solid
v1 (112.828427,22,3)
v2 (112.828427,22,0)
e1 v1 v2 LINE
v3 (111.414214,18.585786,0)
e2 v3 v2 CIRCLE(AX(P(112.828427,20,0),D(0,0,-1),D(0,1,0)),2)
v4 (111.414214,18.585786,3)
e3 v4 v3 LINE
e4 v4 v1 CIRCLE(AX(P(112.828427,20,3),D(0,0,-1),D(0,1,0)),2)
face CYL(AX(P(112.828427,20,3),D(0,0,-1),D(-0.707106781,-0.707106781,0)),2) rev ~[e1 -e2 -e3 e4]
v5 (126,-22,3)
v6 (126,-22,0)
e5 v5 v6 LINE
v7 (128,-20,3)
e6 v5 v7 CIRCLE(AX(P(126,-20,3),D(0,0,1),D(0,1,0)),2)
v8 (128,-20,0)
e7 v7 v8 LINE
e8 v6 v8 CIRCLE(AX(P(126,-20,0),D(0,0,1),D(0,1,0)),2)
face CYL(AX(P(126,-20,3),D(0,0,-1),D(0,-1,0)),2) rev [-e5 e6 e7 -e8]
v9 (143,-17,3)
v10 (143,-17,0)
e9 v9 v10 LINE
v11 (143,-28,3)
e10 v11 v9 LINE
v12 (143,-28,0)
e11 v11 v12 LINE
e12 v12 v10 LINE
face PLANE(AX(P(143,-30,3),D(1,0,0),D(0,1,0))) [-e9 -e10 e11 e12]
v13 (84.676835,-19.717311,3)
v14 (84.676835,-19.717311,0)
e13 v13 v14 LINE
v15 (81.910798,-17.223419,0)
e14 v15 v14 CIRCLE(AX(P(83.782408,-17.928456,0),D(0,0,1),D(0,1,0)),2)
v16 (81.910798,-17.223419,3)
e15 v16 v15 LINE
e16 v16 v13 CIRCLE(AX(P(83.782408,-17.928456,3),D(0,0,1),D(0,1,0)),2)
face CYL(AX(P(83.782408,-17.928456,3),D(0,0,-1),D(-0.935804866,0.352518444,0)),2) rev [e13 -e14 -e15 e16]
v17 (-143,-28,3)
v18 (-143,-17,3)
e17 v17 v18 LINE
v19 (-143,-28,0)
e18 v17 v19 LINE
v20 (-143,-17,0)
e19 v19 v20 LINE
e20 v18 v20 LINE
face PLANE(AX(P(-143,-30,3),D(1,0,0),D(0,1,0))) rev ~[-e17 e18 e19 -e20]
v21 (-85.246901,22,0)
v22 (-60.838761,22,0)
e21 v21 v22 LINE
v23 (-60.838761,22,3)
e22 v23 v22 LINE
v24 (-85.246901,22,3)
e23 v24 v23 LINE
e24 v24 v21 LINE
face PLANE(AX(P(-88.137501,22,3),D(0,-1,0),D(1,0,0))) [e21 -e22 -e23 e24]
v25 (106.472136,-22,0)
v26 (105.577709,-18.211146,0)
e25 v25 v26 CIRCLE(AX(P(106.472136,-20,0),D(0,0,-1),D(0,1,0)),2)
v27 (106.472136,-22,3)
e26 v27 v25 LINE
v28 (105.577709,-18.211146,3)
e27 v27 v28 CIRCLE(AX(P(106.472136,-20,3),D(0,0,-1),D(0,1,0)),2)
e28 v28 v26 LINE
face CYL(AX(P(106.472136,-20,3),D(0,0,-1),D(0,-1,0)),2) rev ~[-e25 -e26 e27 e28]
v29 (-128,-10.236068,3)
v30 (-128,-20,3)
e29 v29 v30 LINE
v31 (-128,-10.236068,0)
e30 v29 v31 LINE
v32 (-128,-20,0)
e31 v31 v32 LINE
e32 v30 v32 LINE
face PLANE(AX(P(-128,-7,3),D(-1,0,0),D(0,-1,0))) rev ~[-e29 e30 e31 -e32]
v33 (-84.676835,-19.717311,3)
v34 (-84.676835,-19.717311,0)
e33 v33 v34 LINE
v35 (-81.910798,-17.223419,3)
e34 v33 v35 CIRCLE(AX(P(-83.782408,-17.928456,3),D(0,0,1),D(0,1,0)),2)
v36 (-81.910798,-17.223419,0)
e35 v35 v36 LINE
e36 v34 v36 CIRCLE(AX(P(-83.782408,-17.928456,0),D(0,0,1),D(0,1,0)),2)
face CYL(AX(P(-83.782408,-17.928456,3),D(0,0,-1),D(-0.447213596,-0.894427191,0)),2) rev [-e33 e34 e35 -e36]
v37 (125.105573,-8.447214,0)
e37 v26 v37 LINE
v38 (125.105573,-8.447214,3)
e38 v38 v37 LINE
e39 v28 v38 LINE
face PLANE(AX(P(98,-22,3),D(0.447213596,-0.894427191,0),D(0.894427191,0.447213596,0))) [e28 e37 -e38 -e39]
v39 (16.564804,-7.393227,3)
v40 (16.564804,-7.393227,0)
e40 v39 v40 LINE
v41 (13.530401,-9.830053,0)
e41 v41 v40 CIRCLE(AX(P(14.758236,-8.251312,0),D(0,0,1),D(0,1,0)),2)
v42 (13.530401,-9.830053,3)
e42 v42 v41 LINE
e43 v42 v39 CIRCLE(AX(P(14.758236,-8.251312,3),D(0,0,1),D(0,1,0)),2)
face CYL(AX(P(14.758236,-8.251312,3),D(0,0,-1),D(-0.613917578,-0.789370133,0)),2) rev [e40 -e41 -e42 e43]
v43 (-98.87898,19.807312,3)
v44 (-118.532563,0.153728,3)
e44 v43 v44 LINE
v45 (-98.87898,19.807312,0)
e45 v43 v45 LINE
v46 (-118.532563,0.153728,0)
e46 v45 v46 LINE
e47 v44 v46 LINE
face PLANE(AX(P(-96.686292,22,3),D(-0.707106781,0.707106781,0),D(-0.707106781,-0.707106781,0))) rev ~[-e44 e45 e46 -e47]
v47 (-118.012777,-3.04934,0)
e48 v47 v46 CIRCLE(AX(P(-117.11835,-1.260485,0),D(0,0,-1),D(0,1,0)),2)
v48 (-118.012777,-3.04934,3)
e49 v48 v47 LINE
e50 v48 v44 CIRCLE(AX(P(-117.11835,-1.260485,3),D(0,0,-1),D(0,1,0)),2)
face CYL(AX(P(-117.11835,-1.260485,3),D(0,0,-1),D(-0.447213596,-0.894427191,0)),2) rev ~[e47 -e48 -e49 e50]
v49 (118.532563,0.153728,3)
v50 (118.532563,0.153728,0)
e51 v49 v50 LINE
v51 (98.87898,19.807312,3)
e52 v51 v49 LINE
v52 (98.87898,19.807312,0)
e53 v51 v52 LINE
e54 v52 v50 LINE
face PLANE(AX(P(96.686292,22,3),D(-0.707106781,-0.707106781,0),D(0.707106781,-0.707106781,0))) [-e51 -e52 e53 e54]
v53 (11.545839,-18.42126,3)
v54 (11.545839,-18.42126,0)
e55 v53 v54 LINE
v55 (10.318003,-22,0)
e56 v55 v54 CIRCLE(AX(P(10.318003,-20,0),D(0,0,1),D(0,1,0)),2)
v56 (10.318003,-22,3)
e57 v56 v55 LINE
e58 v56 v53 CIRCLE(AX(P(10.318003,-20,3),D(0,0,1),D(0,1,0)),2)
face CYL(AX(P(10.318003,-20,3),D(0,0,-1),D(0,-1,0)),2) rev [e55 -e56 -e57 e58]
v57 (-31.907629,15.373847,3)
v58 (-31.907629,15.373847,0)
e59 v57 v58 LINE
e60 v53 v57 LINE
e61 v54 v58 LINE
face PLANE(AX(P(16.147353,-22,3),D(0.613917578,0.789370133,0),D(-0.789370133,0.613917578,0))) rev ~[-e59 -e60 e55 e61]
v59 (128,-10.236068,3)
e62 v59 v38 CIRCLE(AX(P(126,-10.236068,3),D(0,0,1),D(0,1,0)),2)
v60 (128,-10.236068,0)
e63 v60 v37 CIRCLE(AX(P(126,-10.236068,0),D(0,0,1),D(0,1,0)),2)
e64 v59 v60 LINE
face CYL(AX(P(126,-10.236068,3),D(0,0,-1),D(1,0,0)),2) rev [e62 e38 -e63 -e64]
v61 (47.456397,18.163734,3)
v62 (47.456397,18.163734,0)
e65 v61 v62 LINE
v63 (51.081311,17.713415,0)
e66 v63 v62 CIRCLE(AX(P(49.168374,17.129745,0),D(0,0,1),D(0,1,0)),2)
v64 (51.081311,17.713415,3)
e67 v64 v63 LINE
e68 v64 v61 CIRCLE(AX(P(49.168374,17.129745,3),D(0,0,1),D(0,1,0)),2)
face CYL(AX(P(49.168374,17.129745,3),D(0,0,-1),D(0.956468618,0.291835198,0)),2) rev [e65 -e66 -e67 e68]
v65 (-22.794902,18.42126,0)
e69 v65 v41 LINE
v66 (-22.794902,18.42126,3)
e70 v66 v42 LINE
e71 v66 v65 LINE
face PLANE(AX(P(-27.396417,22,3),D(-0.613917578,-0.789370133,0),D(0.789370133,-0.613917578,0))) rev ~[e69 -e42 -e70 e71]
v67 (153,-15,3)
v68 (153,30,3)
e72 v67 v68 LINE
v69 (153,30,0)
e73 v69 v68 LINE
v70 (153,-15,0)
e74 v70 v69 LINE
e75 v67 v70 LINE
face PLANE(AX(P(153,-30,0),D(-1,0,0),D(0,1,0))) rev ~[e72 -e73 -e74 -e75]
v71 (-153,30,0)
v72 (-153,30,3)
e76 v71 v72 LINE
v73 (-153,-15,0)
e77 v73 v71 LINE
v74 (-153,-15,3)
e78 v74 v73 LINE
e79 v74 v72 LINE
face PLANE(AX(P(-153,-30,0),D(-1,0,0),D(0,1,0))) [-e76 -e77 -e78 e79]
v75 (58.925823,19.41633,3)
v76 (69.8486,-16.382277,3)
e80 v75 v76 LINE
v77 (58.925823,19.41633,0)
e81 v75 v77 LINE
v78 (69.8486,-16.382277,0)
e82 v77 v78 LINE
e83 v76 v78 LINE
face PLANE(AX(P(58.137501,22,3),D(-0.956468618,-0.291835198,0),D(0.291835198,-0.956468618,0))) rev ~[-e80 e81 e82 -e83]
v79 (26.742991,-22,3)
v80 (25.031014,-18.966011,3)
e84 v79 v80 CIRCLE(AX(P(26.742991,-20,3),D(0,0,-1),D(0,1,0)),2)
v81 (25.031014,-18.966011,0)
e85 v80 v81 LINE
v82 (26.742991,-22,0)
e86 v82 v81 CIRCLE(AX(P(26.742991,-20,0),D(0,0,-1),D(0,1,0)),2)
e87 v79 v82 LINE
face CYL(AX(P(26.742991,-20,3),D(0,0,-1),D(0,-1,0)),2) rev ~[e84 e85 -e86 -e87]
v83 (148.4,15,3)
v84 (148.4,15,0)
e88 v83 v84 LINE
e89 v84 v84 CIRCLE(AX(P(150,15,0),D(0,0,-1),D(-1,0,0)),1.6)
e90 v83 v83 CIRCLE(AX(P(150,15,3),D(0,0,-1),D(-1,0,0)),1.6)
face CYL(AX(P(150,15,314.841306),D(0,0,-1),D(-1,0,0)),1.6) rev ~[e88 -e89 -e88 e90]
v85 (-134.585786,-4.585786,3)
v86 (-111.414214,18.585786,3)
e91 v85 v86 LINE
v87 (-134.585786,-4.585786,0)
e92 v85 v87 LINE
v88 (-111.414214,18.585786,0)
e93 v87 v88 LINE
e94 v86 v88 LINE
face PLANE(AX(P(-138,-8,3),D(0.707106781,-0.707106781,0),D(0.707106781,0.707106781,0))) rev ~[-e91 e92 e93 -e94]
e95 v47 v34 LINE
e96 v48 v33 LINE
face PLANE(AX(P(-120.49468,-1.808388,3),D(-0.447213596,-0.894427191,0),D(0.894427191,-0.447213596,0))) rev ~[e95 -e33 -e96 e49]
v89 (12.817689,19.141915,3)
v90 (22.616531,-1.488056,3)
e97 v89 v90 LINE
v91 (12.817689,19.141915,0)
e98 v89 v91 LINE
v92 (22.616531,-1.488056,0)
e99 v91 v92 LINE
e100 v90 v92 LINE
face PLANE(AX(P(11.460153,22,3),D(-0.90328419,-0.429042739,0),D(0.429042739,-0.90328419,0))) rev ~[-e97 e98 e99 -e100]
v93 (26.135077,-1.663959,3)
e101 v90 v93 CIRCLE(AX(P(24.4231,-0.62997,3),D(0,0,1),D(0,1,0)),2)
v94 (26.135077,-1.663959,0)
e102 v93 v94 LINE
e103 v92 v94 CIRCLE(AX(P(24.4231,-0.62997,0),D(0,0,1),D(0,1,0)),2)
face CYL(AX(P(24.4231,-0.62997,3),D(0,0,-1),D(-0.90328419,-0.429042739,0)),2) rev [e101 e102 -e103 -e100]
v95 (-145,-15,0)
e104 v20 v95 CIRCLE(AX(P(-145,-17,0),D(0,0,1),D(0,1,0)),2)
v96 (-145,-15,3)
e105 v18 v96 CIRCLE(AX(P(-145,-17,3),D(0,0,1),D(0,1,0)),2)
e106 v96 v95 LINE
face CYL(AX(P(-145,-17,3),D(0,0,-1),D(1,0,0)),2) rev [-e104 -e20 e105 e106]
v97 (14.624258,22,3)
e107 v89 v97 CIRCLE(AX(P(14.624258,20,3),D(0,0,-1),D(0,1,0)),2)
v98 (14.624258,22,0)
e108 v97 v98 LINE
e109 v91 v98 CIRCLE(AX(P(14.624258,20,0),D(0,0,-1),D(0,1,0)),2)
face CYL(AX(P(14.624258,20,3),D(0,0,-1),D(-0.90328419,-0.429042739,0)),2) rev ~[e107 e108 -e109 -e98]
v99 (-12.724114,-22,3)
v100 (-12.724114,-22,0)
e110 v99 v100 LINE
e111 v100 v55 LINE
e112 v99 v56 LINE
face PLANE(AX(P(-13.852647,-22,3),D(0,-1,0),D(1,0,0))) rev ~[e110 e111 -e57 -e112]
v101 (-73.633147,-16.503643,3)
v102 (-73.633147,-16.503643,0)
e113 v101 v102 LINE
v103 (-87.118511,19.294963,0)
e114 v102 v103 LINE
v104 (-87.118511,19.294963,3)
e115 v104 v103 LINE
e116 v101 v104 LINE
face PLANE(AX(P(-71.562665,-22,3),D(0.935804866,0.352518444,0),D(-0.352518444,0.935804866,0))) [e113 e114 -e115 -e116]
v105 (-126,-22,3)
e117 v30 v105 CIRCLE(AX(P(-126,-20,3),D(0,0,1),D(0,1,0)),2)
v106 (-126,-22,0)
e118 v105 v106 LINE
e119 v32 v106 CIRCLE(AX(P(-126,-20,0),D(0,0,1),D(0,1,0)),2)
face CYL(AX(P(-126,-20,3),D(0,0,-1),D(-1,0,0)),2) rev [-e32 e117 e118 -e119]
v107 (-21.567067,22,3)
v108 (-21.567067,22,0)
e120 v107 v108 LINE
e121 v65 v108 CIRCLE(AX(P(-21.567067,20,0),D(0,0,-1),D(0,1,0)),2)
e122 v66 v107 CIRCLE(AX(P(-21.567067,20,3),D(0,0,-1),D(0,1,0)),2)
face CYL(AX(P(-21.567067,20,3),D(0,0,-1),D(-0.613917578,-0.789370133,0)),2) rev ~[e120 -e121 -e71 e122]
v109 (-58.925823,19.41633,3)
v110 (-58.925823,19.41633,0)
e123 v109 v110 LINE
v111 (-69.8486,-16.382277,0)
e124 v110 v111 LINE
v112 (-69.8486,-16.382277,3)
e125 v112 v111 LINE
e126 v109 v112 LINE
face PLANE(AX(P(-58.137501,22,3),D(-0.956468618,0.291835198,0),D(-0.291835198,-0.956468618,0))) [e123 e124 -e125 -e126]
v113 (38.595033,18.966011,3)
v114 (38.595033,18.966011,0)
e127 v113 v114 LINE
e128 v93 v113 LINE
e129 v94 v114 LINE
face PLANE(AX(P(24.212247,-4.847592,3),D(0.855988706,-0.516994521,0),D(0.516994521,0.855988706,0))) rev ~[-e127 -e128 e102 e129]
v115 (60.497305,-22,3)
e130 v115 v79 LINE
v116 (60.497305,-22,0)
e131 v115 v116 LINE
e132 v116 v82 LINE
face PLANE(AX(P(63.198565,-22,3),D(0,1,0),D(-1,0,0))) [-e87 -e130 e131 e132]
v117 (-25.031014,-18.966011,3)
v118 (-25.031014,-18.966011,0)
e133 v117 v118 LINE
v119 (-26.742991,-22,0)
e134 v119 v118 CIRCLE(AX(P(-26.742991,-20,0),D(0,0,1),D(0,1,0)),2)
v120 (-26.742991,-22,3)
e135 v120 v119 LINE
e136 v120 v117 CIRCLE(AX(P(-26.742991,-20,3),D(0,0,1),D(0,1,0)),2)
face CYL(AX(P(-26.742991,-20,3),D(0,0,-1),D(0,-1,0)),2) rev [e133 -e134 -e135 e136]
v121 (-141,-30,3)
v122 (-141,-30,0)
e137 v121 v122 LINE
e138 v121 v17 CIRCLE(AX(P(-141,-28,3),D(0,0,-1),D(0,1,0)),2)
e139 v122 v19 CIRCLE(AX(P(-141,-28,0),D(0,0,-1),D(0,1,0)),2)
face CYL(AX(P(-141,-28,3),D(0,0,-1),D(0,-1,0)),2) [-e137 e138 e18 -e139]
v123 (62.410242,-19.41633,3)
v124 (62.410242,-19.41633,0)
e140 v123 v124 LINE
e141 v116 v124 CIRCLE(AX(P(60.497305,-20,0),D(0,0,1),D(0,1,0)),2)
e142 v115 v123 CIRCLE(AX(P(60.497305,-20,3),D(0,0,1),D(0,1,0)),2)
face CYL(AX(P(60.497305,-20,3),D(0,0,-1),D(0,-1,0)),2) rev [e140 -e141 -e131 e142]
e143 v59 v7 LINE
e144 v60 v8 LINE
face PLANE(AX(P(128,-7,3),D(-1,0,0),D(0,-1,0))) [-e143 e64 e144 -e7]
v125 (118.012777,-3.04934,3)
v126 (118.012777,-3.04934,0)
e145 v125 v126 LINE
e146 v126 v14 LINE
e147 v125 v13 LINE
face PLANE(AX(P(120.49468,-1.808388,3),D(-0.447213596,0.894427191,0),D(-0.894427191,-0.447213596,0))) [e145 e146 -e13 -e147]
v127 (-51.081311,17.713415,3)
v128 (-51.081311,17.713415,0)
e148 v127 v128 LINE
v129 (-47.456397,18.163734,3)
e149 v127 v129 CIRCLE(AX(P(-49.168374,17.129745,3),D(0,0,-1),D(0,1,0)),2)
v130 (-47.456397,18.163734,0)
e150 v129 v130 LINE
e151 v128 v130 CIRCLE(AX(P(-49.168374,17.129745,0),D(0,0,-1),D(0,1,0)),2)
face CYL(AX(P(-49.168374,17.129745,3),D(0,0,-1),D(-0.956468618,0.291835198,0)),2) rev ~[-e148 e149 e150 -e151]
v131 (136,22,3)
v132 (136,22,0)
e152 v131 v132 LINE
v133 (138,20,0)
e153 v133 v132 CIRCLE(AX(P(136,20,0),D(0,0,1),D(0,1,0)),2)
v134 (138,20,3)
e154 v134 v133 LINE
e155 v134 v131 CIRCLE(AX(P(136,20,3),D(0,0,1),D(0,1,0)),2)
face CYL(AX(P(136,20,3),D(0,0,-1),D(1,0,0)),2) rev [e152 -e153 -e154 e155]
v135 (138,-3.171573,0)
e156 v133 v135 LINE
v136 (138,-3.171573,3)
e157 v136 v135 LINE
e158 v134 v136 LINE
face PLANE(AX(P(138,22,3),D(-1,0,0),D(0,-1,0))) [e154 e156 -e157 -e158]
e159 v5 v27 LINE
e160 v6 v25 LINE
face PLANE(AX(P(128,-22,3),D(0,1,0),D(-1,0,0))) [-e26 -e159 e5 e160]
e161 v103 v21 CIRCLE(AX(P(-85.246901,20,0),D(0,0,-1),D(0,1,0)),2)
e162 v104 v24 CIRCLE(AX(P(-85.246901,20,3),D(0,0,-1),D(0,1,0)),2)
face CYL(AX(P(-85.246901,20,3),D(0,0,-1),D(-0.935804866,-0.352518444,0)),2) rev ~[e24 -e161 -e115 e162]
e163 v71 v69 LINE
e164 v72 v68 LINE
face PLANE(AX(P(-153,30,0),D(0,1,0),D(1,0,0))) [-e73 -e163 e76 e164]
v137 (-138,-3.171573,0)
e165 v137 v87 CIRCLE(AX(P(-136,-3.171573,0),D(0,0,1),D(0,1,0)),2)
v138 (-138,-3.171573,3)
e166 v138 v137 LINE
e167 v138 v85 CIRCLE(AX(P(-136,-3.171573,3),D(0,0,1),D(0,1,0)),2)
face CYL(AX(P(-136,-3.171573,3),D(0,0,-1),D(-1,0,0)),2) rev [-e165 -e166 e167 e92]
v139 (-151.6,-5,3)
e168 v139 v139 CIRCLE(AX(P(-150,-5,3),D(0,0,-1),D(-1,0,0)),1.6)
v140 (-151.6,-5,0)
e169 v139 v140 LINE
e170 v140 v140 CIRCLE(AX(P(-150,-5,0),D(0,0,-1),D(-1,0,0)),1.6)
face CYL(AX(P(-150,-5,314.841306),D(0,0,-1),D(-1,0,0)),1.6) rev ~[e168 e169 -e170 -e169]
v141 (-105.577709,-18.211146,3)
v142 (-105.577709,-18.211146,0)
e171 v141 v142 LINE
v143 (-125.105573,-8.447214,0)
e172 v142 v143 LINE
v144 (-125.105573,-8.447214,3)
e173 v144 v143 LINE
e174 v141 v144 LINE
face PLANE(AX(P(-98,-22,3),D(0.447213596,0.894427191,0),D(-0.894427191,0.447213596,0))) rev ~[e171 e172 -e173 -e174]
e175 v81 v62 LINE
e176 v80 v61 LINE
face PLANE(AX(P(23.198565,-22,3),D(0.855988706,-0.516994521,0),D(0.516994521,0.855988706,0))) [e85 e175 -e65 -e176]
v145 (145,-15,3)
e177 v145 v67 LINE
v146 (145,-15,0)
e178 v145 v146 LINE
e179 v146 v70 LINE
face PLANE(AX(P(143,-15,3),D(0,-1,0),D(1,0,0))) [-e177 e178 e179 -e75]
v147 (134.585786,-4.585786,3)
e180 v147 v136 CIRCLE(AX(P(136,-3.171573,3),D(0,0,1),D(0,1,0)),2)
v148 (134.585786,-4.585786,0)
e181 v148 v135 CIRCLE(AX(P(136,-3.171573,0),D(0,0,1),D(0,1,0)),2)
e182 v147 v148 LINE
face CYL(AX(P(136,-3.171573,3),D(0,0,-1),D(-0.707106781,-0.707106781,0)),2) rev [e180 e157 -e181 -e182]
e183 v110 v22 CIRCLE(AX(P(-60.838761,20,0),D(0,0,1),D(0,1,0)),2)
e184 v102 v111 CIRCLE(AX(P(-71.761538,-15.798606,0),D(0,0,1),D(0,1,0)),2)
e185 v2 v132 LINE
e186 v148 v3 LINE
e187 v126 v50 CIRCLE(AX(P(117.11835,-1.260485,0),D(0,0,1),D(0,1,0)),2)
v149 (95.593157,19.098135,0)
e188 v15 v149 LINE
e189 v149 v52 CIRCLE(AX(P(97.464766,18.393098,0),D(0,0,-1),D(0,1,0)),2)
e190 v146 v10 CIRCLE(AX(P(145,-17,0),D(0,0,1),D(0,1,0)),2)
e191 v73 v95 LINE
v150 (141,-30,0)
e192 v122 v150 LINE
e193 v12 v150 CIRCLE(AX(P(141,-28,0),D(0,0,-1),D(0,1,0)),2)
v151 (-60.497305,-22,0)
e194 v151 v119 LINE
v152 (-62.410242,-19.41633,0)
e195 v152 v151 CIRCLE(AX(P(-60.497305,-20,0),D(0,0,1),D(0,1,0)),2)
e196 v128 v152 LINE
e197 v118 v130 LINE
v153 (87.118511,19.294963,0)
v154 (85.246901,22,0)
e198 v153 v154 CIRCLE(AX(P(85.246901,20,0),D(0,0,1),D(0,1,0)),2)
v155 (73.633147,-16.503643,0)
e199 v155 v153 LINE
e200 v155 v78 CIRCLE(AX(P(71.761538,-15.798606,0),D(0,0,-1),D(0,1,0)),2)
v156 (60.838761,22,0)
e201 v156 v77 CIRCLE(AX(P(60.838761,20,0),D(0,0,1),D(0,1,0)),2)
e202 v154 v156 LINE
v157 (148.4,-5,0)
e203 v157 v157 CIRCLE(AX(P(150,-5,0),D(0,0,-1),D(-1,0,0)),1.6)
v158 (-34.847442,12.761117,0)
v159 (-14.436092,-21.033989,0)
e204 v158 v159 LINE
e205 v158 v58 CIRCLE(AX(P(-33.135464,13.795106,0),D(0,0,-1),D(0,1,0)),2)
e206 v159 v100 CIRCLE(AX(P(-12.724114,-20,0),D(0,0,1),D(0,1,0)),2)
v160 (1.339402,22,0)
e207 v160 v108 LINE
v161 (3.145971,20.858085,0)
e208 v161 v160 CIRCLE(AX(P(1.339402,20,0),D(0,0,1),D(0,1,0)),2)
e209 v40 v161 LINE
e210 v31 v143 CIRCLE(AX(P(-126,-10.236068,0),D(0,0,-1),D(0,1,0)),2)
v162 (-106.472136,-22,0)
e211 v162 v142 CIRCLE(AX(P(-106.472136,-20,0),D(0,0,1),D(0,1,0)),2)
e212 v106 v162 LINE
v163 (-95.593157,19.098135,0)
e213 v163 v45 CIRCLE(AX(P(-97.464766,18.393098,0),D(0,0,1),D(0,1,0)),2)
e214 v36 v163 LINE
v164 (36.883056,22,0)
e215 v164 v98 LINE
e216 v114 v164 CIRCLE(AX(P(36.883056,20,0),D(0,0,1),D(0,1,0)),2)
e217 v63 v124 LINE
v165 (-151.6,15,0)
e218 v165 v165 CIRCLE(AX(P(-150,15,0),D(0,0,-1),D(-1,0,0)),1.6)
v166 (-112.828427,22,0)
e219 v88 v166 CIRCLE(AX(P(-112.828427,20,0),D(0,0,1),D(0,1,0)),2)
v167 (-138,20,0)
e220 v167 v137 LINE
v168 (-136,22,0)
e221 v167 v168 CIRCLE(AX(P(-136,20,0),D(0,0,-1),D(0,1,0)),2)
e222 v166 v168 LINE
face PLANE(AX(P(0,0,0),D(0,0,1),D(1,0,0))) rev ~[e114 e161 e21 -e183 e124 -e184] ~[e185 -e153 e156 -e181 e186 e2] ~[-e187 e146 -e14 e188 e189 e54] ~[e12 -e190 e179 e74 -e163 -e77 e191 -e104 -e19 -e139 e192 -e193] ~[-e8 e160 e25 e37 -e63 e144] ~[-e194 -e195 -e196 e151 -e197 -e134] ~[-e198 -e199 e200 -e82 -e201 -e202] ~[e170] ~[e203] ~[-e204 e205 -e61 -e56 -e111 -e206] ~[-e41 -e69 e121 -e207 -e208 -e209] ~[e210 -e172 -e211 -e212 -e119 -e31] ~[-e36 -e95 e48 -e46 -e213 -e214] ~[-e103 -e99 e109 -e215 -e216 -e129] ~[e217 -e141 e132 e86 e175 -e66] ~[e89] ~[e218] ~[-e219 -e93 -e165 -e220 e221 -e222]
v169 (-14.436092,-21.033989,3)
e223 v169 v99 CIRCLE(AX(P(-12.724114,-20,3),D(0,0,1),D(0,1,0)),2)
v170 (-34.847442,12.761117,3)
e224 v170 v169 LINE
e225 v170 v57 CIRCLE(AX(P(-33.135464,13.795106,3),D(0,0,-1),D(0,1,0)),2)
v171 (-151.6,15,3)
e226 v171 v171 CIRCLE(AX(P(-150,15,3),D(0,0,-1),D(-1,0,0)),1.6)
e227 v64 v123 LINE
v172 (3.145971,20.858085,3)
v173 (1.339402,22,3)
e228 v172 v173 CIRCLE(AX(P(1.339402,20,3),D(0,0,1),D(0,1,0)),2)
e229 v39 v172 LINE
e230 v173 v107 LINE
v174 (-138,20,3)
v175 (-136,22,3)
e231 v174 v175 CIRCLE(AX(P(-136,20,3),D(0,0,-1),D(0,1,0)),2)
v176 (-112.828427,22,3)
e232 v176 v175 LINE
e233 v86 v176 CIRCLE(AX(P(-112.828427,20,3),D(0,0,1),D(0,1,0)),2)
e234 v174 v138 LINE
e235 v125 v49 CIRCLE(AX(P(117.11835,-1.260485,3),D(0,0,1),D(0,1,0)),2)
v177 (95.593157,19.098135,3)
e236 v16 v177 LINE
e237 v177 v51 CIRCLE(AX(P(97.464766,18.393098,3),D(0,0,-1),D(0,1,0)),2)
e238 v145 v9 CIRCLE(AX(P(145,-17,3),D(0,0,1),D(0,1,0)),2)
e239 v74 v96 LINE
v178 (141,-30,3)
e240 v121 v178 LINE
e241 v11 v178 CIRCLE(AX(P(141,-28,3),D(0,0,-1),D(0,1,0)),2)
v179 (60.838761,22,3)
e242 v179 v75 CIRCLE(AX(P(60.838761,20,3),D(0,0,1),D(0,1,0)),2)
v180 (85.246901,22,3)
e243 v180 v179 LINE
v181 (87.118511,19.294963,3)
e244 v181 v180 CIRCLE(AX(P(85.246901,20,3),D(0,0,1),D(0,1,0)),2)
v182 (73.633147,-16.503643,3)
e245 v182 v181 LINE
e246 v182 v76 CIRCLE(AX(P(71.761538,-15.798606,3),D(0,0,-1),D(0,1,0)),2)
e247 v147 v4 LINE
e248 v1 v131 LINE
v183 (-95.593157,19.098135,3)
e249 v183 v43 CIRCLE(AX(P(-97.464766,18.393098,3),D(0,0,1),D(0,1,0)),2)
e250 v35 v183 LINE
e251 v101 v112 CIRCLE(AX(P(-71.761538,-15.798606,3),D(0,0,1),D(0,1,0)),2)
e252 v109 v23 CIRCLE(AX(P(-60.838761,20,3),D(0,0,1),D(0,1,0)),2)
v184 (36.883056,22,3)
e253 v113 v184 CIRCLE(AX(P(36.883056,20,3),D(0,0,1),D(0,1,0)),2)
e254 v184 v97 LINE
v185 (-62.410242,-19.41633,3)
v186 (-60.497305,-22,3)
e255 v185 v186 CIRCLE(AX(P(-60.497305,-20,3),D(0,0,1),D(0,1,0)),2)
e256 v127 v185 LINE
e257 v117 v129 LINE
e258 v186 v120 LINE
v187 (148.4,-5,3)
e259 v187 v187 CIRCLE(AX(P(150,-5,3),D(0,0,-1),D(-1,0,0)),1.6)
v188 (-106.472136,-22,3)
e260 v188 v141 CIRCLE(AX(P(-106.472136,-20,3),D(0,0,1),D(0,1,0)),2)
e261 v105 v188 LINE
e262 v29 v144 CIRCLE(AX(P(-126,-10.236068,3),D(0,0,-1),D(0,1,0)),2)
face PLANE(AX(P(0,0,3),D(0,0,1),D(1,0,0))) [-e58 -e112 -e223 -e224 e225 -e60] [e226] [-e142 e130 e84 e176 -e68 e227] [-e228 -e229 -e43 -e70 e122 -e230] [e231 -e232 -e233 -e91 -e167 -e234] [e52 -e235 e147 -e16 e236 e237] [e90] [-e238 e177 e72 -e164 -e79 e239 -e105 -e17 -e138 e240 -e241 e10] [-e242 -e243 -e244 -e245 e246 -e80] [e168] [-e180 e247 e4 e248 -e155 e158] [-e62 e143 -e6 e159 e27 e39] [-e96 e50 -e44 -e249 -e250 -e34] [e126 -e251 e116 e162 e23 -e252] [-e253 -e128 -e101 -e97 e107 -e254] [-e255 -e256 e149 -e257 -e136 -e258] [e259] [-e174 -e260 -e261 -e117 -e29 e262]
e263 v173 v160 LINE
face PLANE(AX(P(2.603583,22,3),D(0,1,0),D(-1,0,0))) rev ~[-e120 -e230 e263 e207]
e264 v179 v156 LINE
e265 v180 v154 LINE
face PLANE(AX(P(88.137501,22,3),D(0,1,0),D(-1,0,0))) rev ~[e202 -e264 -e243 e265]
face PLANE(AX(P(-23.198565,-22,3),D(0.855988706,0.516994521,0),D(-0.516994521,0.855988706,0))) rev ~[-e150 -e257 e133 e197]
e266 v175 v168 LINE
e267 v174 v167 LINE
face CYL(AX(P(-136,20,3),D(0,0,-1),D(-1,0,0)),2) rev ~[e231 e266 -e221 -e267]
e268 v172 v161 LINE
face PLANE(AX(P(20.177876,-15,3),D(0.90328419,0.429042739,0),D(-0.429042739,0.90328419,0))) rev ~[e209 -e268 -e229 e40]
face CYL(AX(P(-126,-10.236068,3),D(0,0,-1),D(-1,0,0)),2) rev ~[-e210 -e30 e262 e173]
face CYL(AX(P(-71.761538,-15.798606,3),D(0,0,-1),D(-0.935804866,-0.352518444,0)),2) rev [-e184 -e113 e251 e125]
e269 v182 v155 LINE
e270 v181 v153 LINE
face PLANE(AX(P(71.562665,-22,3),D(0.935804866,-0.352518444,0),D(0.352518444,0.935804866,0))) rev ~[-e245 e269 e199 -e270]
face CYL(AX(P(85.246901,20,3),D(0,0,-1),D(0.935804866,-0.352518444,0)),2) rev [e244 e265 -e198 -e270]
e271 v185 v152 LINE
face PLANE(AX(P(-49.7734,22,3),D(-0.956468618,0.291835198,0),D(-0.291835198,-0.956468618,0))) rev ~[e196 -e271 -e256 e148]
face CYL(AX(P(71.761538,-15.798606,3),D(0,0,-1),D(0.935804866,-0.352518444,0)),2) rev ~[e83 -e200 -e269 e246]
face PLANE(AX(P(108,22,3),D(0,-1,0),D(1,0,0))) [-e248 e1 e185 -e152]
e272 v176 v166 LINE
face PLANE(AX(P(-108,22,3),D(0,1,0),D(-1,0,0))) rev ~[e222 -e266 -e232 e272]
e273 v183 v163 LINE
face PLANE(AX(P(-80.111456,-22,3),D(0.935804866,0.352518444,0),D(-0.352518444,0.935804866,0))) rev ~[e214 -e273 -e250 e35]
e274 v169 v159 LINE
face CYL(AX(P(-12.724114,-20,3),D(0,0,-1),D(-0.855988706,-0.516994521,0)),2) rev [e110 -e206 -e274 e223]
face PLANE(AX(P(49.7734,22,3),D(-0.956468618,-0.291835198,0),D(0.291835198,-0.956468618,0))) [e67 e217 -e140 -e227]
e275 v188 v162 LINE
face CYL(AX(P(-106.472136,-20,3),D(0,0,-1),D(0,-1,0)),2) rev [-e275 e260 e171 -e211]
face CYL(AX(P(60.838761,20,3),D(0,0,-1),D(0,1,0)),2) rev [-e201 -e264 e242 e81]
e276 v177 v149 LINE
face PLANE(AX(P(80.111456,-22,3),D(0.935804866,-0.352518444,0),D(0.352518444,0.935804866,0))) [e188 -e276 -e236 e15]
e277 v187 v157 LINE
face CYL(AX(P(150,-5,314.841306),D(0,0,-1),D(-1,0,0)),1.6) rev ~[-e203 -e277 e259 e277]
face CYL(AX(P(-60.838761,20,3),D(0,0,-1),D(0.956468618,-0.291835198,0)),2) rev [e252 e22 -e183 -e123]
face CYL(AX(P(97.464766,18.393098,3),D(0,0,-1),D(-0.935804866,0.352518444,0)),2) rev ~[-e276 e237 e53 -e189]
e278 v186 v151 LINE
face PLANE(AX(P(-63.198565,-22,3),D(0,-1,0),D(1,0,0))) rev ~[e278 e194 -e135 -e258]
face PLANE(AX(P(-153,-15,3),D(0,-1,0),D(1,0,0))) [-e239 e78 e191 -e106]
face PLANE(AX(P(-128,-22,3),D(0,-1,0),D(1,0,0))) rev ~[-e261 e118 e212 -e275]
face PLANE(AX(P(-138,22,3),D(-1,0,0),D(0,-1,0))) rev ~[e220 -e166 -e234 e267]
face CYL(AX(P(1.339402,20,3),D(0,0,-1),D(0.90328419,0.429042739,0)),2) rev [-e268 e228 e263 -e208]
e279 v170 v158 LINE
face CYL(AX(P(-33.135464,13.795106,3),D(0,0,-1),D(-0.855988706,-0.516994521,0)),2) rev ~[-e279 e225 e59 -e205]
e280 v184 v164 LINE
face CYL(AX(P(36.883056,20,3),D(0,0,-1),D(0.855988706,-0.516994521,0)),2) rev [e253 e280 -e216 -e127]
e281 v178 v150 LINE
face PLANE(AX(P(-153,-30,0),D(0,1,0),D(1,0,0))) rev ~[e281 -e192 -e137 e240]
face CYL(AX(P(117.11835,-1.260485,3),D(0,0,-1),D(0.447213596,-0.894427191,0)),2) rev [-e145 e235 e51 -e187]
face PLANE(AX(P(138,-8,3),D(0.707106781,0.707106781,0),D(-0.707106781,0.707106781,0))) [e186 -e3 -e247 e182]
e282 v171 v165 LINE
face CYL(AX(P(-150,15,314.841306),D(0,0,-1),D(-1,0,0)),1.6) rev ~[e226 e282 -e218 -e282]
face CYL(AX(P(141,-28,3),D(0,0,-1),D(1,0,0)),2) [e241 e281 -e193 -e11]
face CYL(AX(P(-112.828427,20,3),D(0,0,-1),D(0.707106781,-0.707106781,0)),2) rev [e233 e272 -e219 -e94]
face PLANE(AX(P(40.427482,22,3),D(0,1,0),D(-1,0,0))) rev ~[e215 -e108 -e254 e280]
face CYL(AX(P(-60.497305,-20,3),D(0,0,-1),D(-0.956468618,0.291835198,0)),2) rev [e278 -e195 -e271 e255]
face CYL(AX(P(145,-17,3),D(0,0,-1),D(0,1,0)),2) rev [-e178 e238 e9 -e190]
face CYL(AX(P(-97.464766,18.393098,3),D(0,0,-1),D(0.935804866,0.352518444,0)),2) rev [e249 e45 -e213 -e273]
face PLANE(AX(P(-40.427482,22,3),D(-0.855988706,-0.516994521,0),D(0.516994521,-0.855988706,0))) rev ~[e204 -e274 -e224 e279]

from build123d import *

# Parameters (mm, degrees)
SKETCH_1_W              = 306
SKETCH_1_H              = 60
EXTRUDE_1_DEPTH         = 3
HOLE_WIZARD_3_2_3_2_1_D = 3.2
SKETCH_4_W              = 10
SKETCH_4_H              = 15
CUT_EXTRUDE_1_DEPTH     = 156.94229702
FILLET_1_R              = 2
FILLET_2_R              = 2


with BuildPart() as part:
    # 草图1 → 凸台-拉伸1 (new body)
    with BuildSketch(Plane.XY):
        Rectangle(SKETCH_1_W, SKETCH_1_H)
    extrude(amount=EXTRUDE_1_DEPTH)

    # Ø3.2 (3.2) 直径孔1 (through all)
    with Locations(Plane(origin=(-150, 15, 3), x_dir=(1, 0, 0), z_dir=(0, 0, 1))):
        with Locations((0, 0), (0, -20), (300, 0), (300, -20)):
            Hole(HOLE_WIZARD_3_2_3_2_1_D / 2)

    # 草图4 → 切除-拉伸1 (cut, through all)
    with BuildSketch(Plane.XY.offset(3)):
        Polygon((-138, 22), (-138, -8), (-108, 22), align=None)
        with Locations((-148, -22.5)):
            Rectangle(SKETCH_4_W, SKETCH_4_H)
        Polygon((-128, -7), (-128, -22), (-98, -22), align=None)
        Polygon((-120.494679727, -1.808388226), (-80.11145618, -22), (-96.686291501, 22), align=None)
        Polygon((-88.137500729, 22), (-58.137500729, 22), (-71.562665408, -22), align=None)
        Polygon((-49.773399859, 22), (-63.198564538, -22), (-23.198564538, -22), align=None)
        Polygon((23.198564538, -22), (49.773399859, 22), (63.198564538, -22), align=None)
        Polygon((71.562665408, -22), (88.137500729, 22), (58.137500729, 22), align=None)
        Polygon((96.686291501, 22), (120.494679727, -1.808388226), (80.11145618, -22), align=None)
        Polygon((98, -22), (128, -7), (128, -22), align=None)
        Polygon((108, 22), (138, 22), (138, -8), align=None)
        with Locations((148, -22.5)):
            Rectangle(SKETCH_4_W, SKETCH_4_H)
        Polygon((-40.427482162, 22), (-13.852646841, -22), (16.147353159, -22), align=None)
        Polygon((-27.396416938, 22), (20.1778764, -15), (2.603583062, 22), align=None)
        Polygon((11.460153437, 22), (24.21224704, -4.847592346), (40.427482162, 22), align=None)
    extrude(amount=-CUT_EXTRUDE_1_DEPTH, mode=Mode.SUBTRACT)

    # 圆角1
    fillet_1_edges = [part.edges().sort_by_distance(p)[0] for p in [
        (128, -22, 1.5),
        (98, -22, 1.5),
        (128, -7, 1.5),
        (138, -8, 1.5),
        (108, 22, 1.5),
        (138, 22, 1.5),
        (11.460153437, 22, 1.5),
        (40.427482162, 22, 1.5),
        (24.21224704, -4.847592346, 1.5),
        (-27.396416938, 22, 1.5),
        (2.603583062, 22, 1.5),
        (20.1778764, -15, 1.5),
        (-120.494679727, -1.808388226, 1.5),
        (-96.686291501, 22, 1.5),
        (-80.11145618, -22, 1.5),
        (-71.562665408, -22, 1.5),
        (-88.137500729, 22, 1.5),
        (-58.137500729, 22, 1.5),
        (-138, 22, 1.5),
        (-108, 22, 1.5),
        (-138, -8, 1.5),
        (-128, -7, 1.5),
        (-98, -22, 1.5),
        (-128, -22, 1.5),
        (71.562665408, -22, 1.5),
        (58.137500729, 22, 1.5),
        (88.137500729, 22, 1.5),
        (80.11145618, -22, 1.5),
        (96.686291501, 22, 1.5),
        (120.494679727, -1.808388226, 1.5),
        (63.198564538, -22, 1.5),
        (23.198564538, -22, 1.5),
        (49.773399859, 22, 1.5),
        (-49.773399859, 22, 1.5),
        (-23.198564538, -22, 1.5),
        (-63.198564538, -22, 1.5),
        (-40.427482162, 22, 1.5),
        (16.147353159, -22, 1.5),
        (-13.852646841, -22, 1.5),
    ]]
    fillet(fillet_1_edges, radius=FILLET_1_R)

    # 圆角2
    fillet_2_edges = [part.edges().sort_by_distance(p)[0] for p in [
        (-143, -15, 1.5),
        (-143, -30, 1.5),
        (143, -30, 1.5),
        (143, -15, 1.5),
    ]]
    fillet(fillet_2_edges, radius=FILLET_2_R)


solid = part.part
